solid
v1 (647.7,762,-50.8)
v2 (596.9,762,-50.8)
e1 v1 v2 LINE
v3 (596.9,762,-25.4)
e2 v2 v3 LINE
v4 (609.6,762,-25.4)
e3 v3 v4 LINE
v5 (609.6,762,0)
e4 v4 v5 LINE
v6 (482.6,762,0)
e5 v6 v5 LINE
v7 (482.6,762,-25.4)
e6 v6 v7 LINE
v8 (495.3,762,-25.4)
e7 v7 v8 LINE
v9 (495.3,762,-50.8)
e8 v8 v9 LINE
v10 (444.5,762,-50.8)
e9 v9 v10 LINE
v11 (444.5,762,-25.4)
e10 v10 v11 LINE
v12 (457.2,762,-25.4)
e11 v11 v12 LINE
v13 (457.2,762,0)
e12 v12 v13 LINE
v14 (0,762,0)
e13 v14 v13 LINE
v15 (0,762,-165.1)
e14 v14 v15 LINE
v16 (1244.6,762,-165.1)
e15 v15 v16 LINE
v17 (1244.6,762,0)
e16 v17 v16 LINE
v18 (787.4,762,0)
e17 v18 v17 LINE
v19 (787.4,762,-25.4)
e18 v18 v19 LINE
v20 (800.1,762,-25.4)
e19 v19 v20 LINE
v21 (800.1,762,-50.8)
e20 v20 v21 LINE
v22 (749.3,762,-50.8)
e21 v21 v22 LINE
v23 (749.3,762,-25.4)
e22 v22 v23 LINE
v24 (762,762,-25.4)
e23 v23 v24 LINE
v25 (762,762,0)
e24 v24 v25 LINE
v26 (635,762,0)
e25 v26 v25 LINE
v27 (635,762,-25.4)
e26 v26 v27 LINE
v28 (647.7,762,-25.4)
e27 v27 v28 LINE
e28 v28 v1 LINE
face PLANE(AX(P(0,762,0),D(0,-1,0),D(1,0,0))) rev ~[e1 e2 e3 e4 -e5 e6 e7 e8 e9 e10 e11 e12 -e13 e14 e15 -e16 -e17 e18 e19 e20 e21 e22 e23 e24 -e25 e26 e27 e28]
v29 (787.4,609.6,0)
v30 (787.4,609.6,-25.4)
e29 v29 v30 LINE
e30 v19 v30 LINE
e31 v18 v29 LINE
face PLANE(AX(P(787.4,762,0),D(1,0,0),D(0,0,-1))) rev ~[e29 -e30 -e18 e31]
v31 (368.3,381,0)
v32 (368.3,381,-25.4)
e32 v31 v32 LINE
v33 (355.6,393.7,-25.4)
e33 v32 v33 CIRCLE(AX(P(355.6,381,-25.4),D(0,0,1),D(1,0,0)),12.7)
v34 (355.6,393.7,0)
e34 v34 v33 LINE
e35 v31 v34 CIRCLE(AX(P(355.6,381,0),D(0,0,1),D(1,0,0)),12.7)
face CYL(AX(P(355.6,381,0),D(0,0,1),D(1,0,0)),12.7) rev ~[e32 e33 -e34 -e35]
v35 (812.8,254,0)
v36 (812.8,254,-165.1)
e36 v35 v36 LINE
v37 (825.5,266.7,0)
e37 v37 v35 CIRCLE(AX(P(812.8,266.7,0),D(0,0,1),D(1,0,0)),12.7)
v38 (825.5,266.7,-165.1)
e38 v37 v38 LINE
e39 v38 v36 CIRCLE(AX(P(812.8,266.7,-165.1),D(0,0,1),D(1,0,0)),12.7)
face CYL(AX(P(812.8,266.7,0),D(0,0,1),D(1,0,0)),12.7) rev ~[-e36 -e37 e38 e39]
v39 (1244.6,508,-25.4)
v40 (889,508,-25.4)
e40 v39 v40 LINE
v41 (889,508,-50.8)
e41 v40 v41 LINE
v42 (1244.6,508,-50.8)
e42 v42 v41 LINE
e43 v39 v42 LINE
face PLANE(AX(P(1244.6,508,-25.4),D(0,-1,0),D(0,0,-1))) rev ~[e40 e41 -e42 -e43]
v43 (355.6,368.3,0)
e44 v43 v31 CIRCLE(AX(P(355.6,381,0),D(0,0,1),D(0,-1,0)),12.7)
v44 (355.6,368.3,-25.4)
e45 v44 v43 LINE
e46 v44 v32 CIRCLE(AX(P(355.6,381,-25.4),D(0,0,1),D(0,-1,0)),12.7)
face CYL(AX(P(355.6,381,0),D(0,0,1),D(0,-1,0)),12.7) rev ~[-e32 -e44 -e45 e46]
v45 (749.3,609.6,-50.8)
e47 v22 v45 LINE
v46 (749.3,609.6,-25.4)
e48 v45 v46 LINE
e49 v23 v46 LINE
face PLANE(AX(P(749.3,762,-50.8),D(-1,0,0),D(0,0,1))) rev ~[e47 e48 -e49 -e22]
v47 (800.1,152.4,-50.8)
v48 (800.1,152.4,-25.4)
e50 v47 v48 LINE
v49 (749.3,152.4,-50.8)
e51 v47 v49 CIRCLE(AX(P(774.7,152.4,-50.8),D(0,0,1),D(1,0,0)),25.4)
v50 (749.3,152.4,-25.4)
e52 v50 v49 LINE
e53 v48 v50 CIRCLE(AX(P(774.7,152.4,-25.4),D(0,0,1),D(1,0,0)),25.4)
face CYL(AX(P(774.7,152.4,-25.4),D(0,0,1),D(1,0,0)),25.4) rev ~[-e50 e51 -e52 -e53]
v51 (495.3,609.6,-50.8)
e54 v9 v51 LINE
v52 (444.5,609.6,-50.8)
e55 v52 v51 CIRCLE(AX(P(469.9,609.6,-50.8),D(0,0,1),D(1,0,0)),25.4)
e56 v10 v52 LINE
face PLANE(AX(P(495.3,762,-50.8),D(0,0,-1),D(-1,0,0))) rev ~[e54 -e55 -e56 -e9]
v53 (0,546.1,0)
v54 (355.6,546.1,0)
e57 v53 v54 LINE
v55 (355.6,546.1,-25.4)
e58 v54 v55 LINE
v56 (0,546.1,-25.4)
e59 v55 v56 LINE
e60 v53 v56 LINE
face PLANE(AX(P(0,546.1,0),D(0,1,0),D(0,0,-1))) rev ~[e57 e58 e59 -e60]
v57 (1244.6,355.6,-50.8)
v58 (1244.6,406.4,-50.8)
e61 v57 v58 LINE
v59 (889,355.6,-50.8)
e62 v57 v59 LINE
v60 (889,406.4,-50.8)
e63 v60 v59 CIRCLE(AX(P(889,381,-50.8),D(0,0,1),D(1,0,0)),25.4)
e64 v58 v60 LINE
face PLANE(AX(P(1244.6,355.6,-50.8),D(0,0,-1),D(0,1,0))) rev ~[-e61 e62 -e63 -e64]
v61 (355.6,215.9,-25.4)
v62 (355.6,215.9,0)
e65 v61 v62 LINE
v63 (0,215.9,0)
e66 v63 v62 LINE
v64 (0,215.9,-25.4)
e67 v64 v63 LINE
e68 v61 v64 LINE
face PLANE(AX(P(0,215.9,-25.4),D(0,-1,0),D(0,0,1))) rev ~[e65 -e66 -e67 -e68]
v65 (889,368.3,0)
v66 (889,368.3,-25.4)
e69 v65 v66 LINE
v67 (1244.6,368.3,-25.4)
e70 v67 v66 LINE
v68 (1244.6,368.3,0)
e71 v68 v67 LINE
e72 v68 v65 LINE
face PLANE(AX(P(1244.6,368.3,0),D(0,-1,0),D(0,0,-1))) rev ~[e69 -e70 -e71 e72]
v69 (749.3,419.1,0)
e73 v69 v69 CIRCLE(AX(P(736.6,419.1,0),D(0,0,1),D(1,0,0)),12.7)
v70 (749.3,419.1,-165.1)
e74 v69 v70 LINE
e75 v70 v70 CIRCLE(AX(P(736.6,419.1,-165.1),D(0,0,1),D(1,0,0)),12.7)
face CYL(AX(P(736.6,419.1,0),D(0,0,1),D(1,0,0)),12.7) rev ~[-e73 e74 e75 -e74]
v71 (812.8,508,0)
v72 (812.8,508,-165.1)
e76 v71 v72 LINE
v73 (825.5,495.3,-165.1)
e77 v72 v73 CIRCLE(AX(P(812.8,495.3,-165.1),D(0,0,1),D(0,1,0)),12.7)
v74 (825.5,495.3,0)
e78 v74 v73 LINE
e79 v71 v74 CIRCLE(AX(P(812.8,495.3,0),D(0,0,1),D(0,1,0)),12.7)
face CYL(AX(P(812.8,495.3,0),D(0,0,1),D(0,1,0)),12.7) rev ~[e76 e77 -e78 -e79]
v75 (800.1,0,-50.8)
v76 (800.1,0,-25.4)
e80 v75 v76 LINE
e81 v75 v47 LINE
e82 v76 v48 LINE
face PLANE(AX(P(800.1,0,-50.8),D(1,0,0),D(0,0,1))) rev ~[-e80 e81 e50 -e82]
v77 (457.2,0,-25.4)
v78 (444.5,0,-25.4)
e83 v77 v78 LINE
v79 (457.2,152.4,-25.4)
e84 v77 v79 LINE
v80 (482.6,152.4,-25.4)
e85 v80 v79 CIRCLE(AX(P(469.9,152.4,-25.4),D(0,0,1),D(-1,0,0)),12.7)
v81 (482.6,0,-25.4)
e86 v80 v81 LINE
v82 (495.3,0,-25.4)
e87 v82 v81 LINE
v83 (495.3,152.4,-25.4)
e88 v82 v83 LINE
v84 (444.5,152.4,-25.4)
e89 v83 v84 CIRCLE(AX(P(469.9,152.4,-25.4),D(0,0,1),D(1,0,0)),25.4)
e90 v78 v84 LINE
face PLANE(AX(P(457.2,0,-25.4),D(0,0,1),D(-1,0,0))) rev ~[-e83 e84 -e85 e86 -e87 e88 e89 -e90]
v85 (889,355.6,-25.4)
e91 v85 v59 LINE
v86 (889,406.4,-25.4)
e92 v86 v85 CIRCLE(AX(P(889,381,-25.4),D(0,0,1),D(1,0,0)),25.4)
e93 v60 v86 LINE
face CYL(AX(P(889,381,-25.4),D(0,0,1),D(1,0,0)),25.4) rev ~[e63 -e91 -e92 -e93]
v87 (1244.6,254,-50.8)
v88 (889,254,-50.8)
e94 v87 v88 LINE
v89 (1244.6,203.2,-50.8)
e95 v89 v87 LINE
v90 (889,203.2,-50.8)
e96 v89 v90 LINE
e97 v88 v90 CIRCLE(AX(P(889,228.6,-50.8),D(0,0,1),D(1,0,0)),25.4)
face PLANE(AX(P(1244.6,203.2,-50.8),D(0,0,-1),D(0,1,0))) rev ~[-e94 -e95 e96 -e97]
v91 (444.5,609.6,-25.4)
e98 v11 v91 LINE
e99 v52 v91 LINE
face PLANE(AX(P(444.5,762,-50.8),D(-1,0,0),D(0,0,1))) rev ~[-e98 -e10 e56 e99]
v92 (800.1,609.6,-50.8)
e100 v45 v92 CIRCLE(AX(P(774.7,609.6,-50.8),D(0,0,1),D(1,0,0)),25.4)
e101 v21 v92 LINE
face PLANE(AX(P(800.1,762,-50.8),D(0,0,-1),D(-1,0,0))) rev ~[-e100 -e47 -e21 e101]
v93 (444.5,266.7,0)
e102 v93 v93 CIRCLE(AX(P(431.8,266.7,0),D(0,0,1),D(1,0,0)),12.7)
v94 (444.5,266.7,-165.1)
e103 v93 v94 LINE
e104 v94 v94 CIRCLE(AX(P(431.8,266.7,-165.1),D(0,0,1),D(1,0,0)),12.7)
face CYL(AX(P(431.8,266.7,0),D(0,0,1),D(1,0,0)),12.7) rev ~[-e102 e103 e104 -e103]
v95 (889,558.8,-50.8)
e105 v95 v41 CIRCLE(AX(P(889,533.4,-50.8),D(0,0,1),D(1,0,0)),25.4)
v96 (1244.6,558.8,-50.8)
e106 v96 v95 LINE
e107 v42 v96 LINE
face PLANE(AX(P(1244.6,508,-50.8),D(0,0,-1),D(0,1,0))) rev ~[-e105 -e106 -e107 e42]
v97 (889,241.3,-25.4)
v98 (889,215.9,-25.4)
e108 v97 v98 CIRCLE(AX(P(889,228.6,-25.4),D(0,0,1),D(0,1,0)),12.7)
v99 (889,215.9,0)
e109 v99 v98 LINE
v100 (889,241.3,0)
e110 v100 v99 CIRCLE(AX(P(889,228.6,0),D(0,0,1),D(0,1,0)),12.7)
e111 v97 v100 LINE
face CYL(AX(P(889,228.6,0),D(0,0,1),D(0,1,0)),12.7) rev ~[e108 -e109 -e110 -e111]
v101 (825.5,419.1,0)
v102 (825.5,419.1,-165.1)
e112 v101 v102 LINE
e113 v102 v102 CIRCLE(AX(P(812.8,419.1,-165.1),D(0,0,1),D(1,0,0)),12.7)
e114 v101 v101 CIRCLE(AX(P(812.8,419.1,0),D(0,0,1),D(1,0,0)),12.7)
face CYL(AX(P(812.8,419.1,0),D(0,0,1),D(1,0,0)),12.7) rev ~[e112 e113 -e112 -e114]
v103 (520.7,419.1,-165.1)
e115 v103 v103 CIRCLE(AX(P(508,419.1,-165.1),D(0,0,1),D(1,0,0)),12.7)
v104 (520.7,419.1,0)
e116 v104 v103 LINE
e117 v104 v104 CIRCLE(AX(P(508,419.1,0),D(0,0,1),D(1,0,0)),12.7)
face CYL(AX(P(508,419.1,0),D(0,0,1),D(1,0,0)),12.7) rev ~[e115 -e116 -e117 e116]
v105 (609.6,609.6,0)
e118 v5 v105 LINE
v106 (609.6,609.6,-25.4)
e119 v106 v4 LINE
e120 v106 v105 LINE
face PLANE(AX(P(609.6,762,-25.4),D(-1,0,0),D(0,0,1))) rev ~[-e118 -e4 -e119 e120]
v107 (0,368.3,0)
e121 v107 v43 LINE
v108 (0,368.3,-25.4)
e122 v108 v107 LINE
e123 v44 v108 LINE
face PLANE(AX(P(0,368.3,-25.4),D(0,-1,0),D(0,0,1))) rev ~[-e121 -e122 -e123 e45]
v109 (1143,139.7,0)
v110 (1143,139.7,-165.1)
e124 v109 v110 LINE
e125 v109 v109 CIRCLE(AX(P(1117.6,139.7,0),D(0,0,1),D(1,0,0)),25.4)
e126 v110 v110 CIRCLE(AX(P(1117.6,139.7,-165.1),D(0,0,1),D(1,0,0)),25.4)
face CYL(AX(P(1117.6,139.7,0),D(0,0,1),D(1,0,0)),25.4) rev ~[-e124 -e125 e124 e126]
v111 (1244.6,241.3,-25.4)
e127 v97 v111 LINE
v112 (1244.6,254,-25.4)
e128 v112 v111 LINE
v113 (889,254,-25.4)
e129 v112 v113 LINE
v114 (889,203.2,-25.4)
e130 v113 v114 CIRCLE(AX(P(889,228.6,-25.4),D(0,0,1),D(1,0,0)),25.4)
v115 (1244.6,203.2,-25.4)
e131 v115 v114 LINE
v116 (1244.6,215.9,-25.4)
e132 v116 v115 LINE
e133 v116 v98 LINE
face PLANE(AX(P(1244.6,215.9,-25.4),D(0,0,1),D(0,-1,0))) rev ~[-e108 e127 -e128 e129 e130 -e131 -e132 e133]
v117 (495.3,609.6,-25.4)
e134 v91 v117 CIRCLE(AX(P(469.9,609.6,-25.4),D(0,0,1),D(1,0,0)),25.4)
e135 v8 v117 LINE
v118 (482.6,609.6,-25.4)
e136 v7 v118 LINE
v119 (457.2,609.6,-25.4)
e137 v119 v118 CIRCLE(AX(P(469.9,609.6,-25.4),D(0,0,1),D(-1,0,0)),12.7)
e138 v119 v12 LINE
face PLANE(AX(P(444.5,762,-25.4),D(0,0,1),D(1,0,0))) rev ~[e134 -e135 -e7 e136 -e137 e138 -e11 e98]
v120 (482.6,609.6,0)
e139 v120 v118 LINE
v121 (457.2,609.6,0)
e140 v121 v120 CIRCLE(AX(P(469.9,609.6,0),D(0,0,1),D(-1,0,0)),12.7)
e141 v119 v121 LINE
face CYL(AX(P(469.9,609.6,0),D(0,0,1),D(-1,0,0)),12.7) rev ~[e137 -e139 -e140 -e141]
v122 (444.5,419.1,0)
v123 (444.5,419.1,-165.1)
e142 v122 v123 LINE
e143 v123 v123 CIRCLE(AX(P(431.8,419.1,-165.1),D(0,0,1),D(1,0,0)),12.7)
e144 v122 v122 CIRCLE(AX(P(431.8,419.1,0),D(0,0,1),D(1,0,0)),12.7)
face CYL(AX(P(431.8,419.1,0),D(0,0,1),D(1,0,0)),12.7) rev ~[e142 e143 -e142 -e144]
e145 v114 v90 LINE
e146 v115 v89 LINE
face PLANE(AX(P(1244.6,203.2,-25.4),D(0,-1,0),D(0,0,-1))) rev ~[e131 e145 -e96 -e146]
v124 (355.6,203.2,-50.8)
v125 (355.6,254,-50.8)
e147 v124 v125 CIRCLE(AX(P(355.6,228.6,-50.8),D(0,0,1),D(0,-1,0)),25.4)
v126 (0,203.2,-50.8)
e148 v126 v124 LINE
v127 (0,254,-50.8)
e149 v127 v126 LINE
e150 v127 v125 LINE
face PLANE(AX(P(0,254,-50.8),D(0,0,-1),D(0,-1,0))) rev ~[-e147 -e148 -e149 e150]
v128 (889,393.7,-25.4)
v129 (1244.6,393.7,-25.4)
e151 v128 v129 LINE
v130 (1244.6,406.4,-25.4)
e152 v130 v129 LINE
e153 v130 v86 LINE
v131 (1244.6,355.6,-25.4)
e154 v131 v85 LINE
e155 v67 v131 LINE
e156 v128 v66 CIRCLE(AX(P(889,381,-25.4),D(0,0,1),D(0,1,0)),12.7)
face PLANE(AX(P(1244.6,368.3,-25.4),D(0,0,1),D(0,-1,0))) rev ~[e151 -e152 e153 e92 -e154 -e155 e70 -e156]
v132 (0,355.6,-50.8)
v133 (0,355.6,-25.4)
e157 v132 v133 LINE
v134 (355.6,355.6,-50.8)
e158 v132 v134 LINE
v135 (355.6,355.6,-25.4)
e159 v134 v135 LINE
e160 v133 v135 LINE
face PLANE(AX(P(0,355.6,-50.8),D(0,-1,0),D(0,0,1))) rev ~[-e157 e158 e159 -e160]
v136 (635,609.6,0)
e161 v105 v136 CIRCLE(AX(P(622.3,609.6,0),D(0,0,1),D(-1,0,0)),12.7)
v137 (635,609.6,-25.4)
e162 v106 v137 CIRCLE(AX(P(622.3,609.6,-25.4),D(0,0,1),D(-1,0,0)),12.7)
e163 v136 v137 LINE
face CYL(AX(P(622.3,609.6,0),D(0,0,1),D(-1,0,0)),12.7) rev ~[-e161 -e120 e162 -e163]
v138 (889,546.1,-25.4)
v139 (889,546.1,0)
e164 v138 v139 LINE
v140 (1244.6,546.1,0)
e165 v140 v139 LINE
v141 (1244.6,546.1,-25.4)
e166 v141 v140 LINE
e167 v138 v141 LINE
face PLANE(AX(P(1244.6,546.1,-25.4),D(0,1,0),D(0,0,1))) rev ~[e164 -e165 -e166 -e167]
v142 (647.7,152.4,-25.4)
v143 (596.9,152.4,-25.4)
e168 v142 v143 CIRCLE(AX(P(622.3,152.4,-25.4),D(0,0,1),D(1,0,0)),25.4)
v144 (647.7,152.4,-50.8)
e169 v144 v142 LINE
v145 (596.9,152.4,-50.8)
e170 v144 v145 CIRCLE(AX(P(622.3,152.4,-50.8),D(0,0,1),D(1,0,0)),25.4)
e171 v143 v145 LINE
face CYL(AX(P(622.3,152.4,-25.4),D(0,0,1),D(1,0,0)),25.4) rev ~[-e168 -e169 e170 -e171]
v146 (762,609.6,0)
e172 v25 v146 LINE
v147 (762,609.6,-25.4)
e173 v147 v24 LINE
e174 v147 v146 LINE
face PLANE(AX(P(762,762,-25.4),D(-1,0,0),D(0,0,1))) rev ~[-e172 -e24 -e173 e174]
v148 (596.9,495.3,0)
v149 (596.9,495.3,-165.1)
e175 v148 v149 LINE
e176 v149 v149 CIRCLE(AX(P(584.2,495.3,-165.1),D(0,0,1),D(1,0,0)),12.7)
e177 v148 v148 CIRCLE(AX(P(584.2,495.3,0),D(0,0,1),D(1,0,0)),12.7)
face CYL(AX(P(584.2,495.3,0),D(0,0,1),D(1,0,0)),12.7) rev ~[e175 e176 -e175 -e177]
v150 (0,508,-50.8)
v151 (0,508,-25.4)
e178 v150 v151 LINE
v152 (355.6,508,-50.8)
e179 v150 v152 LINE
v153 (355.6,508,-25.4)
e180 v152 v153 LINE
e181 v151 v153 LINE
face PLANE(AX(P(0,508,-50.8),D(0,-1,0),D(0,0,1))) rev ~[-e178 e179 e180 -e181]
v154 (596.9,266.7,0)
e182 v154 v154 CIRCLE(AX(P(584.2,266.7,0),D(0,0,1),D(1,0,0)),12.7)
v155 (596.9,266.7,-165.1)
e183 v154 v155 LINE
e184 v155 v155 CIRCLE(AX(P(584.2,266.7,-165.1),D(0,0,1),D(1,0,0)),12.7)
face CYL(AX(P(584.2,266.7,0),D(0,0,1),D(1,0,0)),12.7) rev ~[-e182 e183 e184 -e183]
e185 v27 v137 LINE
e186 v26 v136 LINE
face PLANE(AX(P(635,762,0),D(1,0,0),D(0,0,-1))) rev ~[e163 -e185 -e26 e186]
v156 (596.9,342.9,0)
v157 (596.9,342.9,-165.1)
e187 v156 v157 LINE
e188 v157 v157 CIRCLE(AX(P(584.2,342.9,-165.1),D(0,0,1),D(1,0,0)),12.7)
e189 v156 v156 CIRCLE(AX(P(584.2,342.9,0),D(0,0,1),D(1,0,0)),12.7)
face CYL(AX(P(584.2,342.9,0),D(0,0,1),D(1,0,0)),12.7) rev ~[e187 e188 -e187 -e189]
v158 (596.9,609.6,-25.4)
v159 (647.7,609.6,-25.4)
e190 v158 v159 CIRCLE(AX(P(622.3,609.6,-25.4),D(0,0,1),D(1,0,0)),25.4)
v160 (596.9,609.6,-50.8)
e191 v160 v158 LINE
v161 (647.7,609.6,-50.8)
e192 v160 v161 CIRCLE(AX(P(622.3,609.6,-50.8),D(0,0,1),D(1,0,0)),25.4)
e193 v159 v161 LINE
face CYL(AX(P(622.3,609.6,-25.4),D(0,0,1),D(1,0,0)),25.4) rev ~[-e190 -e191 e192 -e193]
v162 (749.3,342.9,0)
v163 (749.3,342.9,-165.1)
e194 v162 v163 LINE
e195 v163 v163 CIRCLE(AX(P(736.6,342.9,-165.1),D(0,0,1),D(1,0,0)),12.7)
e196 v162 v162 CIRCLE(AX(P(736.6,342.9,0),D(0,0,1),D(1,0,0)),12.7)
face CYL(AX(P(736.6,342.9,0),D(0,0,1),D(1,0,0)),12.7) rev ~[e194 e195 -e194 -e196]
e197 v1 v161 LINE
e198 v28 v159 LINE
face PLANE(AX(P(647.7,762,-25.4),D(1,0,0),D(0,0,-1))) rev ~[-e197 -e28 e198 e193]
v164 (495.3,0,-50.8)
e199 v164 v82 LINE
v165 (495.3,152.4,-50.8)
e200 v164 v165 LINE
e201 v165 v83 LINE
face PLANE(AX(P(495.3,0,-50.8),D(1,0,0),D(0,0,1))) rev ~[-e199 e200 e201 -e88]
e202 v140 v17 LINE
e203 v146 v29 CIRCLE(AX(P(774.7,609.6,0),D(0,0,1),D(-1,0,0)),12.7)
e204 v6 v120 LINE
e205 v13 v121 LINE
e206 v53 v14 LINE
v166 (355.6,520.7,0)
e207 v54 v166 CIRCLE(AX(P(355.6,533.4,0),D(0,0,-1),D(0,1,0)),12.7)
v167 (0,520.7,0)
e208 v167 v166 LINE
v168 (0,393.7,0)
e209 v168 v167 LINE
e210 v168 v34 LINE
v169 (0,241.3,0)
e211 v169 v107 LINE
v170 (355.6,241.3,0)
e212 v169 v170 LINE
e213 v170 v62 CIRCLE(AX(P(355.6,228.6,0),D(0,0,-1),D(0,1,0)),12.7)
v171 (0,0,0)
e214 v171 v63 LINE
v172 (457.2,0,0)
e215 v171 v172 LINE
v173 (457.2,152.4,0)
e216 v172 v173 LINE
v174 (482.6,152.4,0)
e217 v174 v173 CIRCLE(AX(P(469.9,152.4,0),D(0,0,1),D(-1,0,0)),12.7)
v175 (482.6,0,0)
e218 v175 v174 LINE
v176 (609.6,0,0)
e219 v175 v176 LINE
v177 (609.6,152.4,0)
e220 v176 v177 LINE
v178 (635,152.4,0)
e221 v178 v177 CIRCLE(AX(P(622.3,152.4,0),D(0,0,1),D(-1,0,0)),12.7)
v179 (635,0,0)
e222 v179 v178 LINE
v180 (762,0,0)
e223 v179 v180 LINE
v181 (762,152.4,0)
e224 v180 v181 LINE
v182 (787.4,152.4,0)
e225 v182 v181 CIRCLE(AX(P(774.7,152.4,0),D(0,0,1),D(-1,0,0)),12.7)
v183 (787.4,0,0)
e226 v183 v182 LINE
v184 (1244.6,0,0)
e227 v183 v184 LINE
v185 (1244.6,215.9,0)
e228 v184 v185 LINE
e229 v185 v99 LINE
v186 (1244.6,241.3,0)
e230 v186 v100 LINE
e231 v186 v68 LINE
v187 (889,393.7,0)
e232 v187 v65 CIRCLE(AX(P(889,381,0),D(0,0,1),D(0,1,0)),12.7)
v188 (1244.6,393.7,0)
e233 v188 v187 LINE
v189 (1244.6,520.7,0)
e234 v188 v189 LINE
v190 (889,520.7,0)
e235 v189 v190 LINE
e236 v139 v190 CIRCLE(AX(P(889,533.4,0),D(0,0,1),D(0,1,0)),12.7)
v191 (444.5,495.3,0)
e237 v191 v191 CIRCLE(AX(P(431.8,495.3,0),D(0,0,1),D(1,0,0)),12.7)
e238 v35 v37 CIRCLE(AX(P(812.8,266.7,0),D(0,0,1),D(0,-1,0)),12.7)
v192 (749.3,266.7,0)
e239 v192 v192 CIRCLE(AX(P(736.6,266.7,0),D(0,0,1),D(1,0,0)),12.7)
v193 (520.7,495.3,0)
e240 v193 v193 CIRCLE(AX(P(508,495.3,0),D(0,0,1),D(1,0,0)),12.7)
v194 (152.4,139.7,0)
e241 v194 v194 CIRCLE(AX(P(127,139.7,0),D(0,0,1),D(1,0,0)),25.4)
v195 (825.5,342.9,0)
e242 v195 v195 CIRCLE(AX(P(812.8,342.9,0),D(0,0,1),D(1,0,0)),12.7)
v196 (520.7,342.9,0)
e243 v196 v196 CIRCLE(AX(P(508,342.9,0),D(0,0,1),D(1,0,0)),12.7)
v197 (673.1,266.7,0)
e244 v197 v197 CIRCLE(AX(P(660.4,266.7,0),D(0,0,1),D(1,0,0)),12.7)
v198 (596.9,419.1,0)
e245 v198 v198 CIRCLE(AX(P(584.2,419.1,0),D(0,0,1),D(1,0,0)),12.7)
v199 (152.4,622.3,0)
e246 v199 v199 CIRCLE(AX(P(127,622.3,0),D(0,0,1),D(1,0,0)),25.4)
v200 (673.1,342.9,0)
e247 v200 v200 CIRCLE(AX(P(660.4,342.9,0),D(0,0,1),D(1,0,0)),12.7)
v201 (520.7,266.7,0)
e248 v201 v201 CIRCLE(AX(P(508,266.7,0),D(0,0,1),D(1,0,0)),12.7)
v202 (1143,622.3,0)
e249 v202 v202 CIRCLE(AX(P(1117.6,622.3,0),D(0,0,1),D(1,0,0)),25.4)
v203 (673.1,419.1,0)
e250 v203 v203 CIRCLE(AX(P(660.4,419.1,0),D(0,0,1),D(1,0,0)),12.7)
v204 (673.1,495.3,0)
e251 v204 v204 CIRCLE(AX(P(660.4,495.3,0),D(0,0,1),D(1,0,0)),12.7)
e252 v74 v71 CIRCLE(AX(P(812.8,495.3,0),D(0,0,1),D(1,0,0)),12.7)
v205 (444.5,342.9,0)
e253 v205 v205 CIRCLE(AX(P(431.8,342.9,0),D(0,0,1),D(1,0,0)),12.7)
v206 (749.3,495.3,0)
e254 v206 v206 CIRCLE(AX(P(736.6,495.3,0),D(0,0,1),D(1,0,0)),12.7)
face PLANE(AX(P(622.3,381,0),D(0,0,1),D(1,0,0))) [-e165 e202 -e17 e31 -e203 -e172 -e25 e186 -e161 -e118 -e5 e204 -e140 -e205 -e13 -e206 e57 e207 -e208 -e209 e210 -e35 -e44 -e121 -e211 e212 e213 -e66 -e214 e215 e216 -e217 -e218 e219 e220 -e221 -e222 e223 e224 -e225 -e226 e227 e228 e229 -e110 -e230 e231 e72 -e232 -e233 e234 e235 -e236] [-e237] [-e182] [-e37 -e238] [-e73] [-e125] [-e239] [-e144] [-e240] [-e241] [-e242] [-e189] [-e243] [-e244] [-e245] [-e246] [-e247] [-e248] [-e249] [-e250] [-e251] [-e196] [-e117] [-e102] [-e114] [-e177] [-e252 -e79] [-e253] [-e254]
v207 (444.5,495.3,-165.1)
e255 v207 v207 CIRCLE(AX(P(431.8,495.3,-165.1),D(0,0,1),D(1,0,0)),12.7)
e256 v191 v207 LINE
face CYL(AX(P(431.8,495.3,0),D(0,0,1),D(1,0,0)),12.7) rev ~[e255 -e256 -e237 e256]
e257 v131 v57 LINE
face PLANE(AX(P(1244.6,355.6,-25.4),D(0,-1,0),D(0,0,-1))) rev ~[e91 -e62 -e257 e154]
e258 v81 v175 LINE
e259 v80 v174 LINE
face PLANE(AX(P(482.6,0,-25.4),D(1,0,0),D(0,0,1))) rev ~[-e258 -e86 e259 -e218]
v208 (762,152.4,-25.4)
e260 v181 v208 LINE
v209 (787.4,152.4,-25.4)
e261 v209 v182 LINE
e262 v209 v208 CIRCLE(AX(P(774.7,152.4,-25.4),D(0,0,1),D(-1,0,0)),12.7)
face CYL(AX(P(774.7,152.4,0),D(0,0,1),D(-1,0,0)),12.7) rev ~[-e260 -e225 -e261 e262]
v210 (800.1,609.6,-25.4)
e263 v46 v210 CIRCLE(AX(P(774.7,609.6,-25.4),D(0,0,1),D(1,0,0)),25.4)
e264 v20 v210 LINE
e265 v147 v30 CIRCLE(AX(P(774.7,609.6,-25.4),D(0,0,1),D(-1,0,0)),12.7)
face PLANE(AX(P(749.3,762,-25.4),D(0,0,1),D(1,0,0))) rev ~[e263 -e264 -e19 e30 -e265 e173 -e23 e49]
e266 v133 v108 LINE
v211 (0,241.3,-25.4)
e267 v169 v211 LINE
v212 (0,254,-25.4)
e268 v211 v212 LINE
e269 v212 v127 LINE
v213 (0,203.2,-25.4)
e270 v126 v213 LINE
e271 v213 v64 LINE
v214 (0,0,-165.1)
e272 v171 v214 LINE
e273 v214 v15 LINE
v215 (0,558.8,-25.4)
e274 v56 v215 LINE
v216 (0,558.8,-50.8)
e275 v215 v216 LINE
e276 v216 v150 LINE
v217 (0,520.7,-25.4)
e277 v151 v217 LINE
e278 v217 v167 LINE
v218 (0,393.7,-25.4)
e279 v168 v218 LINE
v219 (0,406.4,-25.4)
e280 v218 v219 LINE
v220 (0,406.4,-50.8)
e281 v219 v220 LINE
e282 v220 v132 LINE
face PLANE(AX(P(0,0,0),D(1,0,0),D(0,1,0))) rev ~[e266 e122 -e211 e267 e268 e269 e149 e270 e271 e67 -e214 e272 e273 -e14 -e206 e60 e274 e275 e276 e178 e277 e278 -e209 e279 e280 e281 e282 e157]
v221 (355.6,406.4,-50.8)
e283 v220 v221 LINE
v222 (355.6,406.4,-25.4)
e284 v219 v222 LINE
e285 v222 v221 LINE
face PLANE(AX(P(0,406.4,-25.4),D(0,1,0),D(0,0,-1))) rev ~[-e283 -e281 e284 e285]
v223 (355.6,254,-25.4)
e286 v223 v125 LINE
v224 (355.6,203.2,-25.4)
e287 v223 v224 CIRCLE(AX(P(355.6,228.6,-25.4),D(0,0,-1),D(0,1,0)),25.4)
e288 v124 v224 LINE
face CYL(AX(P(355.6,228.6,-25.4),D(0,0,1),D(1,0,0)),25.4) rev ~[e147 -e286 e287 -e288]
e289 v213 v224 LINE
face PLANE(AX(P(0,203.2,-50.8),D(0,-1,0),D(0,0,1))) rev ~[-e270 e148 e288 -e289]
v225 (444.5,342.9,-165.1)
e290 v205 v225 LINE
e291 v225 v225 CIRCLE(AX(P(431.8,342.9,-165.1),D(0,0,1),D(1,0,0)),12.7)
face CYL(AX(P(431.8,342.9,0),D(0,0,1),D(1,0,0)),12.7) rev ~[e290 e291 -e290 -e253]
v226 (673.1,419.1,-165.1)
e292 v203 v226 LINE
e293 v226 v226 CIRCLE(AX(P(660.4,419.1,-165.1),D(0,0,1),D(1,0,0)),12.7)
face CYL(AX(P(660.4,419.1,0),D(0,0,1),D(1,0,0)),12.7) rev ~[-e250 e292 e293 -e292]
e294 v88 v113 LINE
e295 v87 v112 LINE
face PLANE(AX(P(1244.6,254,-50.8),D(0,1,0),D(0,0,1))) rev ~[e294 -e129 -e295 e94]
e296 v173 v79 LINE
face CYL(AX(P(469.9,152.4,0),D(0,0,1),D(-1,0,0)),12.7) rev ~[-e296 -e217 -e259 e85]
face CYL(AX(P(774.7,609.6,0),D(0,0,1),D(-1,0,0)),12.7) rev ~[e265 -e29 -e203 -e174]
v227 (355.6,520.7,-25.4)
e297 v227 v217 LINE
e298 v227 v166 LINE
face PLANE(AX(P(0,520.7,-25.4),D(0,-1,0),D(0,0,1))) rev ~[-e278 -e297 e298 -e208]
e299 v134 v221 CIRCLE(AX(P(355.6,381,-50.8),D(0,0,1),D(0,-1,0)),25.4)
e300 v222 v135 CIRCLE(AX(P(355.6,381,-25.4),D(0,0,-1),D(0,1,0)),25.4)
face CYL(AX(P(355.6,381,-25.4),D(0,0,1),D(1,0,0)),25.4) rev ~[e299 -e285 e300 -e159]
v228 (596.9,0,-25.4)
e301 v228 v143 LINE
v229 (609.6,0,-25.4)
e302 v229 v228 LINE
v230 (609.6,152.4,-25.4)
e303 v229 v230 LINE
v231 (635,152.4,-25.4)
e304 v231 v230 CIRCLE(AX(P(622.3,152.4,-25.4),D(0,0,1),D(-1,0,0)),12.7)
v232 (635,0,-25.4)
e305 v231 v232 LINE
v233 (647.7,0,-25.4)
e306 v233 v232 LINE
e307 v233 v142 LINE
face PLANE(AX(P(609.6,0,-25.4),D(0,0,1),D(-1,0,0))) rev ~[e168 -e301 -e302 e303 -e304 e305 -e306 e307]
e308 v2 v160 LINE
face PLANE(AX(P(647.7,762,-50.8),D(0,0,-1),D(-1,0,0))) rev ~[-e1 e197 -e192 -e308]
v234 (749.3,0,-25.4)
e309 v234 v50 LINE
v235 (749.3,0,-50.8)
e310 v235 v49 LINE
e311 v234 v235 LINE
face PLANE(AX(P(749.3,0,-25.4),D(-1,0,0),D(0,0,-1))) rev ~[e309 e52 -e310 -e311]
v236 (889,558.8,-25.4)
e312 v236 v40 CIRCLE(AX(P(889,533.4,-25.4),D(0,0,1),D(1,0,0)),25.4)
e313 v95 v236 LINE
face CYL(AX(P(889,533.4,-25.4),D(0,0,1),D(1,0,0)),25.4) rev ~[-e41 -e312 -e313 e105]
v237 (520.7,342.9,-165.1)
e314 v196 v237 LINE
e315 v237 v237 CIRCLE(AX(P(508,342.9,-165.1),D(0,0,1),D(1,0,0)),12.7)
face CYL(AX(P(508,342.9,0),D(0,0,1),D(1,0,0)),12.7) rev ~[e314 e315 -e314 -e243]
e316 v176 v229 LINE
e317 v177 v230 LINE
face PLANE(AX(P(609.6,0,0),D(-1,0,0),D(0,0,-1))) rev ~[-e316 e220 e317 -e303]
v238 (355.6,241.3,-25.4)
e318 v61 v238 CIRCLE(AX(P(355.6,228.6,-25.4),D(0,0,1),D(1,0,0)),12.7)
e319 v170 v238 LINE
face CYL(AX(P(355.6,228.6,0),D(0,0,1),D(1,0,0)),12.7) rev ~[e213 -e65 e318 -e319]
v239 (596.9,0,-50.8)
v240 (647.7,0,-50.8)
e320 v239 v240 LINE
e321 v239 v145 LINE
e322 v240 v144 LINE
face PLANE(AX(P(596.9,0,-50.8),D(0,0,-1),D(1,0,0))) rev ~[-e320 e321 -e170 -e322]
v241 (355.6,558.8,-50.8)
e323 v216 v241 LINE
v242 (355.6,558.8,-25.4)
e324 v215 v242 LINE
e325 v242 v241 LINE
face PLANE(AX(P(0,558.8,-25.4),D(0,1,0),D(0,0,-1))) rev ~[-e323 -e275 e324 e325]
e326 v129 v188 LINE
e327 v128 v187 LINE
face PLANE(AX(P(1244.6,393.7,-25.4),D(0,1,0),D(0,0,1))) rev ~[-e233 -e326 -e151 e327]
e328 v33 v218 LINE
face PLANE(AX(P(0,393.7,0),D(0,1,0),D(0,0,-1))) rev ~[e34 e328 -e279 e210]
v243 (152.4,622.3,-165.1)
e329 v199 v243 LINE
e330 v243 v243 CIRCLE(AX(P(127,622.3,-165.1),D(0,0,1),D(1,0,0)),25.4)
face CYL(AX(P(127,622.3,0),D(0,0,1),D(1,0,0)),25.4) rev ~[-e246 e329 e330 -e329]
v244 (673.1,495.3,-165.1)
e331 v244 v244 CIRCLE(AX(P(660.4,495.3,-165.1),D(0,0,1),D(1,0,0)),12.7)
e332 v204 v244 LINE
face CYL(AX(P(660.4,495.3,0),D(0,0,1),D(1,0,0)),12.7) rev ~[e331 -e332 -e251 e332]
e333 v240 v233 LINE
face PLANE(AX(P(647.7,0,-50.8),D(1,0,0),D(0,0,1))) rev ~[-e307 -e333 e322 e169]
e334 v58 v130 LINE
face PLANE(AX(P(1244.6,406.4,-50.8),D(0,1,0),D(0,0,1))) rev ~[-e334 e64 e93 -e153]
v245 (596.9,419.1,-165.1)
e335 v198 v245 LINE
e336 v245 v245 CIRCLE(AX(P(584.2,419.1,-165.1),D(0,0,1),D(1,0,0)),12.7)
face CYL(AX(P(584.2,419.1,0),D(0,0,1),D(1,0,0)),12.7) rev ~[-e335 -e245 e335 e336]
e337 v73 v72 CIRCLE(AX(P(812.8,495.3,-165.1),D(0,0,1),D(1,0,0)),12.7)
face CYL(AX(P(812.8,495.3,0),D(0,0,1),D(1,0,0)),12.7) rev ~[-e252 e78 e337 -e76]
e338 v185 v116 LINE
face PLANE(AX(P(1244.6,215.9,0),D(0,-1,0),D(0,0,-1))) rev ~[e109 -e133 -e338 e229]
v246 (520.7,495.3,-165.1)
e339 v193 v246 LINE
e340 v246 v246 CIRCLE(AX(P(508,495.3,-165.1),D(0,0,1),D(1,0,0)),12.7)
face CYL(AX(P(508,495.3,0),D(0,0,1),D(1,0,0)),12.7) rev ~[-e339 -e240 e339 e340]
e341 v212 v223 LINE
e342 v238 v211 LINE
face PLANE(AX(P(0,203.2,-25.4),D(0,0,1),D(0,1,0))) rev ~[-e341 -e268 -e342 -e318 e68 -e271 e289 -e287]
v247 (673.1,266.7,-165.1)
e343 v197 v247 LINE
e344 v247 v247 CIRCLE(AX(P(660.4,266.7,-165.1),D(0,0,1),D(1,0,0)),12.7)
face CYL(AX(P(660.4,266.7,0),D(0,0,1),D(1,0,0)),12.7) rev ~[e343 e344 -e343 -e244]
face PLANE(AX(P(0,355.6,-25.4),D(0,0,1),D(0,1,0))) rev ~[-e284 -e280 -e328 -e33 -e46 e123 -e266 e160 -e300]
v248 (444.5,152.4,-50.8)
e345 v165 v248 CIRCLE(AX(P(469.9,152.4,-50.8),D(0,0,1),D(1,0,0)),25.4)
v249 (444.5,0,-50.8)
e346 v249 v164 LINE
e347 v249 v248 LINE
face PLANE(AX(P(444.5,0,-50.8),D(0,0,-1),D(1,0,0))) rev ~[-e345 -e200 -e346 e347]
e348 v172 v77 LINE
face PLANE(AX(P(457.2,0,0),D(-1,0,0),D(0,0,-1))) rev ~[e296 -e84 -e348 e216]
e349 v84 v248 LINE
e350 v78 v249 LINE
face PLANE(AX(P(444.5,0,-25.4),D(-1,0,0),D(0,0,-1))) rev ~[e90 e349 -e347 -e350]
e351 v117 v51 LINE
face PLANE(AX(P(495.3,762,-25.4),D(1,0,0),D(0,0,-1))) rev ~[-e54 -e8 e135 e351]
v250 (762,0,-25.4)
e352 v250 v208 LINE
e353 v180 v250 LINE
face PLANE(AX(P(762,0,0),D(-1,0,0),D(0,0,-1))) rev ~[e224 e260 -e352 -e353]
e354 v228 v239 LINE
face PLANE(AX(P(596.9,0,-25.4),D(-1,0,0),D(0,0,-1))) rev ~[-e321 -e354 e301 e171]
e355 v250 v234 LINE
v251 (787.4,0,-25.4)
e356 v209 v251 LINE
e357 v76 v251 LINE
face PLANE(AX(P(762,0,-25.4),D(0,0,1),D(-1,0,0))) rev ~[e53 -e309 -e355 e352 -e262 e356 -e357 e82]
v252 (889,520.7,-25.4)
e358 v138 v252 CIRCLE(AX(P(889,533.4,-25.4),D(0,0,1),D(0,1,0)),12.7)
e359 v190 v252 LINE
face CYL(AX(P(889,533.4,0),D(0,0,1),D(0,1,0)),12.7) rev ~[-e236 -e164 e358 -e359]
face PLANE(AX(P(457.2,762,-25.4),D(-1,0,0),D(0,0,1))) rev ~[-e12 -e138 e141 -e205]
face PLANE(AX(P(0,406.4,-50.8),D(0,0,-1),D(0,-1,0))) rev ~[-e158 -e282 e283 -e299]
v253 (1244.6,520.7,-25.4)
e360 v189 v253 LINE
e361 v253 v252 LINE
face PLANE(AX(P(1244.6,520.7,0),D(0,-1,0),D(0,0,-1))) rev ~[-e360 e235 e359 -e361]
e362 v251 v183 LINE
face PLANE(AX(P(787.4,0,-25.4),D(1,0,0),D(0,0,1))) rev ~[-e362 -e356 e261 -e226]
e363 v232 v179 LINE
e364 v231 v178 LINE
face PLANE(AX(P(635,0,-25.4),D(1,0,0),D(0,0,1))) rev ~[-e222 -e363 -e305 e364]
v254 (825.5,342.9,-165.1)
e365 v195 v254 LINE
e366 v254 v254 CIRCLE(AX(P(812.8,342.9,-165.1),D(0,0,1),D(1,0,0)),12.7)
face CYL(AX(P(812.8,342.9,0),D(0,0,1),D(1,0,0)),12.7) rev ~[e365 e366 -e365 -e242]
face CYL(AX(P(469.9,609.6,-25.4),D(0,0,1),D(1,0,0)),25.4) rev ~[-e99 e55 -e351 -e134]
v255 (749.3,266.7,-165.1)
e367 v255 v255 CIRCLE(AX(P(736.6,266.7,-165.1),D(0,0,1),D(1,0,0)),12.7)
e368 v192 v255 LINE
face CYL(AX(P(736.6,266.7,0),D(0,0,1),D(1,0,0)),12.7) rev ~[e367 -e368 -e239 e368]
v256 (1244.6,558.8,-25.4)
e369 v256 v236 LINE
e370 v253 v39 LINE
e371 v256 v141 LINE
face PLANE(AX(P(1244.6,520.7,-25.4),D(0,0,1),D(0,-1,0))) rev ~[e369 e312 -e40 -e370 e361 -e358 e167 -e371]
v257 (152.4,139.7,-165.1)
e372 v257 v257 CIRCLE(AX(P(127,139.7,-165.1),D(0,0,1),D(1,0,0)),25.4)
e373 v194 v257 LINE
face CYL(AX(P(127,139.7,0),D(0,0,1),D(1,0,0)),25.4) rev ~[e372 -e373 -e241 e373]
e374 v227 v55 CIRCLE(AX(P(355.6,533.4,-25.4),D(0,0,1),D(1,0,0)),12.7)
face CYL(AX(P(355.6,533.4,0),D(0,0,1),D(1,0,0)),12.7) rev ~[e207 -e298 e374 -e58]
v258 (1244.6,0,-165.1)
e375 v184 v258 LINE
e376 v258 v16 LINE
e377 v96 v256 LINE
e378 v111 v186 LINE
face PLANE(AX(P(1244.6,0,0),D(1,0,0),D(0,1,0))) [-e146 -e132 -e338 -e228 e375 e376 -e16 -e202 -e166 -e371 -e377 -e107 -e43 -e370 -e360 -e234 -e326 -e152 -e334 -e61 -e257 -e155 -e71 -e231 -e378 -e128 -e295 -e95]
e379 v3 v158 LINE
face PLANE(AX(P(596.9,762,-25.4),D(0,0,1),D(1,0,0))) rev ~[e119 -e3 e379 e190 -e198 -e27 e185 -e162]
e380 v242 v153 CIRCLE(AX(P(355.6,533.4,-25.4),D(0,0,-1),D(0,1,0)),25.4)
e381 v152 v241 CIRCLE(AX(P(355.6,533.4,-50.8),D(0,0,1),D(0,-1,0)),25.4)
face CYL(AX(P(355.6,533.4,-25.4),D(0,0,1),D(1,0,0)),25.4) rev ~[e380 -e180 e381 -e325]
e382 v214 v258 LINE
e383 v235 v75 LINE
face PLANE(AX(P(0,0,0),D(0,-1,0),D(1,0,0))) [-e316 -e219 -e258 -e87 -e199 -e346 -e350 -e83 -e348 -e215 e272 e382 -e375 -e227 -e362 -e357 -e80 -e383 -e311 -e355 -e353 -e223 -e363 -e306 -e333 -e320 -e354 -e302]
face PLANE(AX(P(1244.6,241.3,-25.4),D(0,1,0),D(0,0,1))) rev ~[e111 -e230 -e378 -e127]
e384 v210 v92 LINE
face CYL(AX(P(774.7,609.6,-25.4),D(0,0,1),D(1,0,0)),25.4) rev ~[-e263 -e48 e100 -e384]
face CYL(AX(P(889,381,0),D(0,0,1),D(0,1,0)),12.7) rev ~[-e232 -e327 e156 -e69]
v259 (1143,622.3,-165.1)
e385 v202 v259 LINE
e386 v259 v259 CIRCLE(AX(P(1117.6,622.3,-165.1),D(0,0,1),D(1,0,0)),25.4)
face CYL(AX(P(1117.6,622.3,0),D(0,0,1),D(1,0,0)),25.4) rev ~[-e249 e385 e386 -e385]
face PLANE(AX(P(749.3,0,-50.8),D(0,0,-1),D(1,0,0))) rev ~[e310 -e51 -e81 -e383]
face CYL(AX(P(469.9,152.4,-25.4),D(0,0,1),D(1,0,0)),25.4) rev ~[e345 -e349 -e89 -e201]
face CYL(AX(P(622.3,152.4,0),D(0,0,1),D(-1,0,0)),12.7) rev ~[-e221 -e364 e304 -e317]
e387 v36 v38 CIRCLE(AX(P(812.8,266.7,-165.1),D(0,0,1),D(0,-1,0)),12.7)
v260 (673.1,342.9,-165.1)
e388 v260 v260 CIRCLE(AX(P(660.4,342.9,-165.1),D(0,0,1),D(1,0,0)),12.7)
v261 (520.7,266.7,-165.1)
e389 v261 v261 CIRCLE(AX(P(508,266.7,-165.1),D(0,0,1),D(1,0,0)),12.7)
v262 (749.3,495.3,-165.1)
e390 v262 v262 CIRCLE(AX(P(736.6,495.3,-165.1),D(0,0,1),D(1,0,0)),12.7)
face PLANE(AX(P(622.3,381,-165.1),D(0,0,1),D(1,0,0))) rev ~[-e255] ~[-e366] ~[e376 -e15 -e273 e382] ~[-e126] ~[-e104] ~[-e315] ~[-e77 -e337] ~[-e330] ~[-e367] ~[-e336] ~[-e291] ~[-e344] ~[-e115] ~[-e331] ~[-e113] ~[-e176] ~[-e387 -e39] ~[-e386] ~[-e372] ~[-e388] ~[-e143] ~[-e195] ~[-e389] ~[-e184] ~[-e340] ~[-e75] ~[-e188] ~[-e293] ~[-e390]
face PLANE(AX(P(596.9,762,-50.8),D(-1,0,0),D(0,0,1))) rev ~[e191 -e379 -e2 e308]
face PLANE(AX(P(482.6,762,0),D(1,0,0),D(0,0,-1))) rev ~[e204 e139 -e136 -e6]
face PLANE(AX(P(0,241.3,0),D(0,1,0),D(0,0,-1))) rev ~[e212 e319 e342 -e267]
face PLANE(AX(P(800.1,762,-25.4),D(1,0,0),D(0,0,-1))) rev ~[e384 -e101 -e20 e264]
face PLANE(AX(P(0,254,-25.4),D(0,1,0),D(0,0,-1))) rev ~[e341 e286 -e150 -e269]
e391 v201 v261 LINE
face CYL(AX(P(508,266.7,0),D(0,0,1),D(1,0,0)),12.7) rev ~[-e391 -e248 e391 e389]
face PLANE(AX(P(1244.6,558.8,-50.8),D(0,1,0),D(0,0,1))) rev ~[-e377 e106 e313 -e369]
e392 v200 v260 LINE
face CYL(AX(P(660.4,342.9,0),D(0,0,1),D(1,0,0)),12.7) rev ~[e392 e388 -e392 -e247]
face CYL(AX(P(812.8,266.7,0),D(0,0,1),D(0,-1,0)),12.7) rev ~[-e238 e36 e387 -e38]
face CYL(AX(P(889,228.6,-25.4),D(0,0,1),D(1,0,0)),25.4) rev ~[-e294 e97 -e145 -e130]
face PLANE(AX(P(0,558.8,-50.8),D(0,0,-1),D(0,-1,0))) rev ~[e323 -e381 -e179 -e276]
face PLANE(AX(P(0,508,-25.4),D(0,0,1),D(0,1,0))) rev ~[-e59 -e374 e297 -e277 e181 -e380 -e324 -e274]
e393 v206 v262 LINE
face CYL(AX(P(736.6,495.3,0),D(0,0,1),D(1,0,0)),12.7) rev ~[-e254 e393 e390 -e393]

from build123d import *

# Parameters (mm, degrees)
F0_W      = 1244.6
F0_H      = 762
F1_DEPTH  = 165.1
F3_DEPTH  = 152.4
F5_DEPTH  = 355.6
F7_DEPTH  = 355.6
F9_DEPTH  = 152.4
F10_R     = 12.7
F11_DEPTH = 50.8
F12_R     = 12.7
F13_DEPTH = 165.101
F15_R     = 25.4
F16_DEPTH = 25.4
F17_R     = 25.4
F18_DEPTH = 165.101


with BuildPart() as f1:
    # F0 (on Top) → F1 (new body)
    with BuildSketch(Plane.XY):
        with Locations((622.3, 381)):
            Rectangle(F0_W, F0_H)
    extrude(amount=-F1_DEPTH)

    # F2 (on face) → F3 (cut)
    with BuildSketch(Plane.XZ):
        Polygon((457.2, -25.4), (444.5, -25.4), (444.5, -50.8), (495.3, -50.8), (495.3, -25.4), (482.6, -25.4), (482.6, 0), (457.2, 0), align=None)
        Polygon((635, 0), (609.6, 0), (609.6, -25.4), (596.9, -25.4), (596.9, -50.8), (647.7, -50.8), (647.7, -25.4), (635, -25.4), align=None)
        Polygon((787.4, 0), (762, 0), (762, -25.4), (749.3, -25.4), (749.3, -50.8), (800.1, -50.8), (800.1, -25.4), (787.4, -25.4), align=None)
    extrude(amount=-F3_DEPTH, mode=Mode.SUBTRACT)

    # F4 (on face) → F5 (cut)
    with BuildSketch(Plane.YZ.offset(1244.6)):
        Polygon((241.3, 0), (215.9, 0), (215.9, -25.4), (203.2, -25.4), (203.2, -50.8), (254, -50.8), (254, -25.4), (241.3, -25.4), align=None)
        Polygon((393.7, 0), (368.3, 0), (368.3, -25.4), (355.6, -25.4), (355.6, -50.8), (406.4, -50.8), (406.4, -25.4), (393.7, -25.4), align=None)
        Polygon((546.1, 0), (520.7, 0), (520.7, -25.4), (508, -25.4), (508, -50.8), (558.8, -50.8), (558.8, -25.4), (546.1, -25.4), align=None)
    extrude(amount=-F5_DEPTH, mode=Mode.SUBTRACT)

    # F6 (on face) → F7 (cut)
    with BuildSketch(Plane(origin=(0, 0, 0), x_dir=(0, -1, 0), z_dir=(-1, 0, 0))):
        Polygon((-520.7, 0), (-546.1, 0), (-546.1, -25.4), (-558.8, -25.4), (-558.8, -50.8), (-508, -50.8), (-508, -25.4), (-520.7, -25.4), align=None)
        Polygon((-368.3, 0), (-393.7, 0), (-393.7, -25.4), (-406.4, -25.4), (-406.4, -50.8), (-355.6, -50.8), (-355.6, -25.4), (-368.3, -25.4), align=None)
        Polygon((-215.9, 0), (-241.3, 0), (-241.3, -25.4), (-254, -25.4), (-254, -50.8), (-203.2, -50.8), (-203.2, -25.4), (-215.9, -25.4), align=None)
    extrude(amount=-F7_DEPTH, mode=Mode.SUBTRACT)

    # F8 (on face) → F9 (cut)
    with BuildSketch(Plane(origin=(0, 762, 0), x_dir=(-1, 0, 0), z_dir=(0, 1, 0))):
        Polygon((-762, 0), (-787.4, 0), (-787.4, -25.4), (-800.1, -25.4), (-800.1, -50.8), (-749.3, -50.8), (-749.3, -25.4), (-762, -25.4), align=None)
        Polygon((-609.6, 0), (-635, 0), (-635, -25.4), (-647.7, -25.4), (-647.7, -50.8), (-596.9, -50.8), (-596.9, -25.4), (-609.6, -25.4), align=None)
        Polygon((-457.2, 0), (-482.6, 0), (-482.6, -25.4), (-495.3, -25.4), (-495.3, -50.8), (-444.5, -50.8), (-444.5, -25.4), (-457.2, -25.4), align=None)
    extrude(amount=-F9_DEPTH, mode=Mode.SUBTRACT)

    # F10 (on face) → F11 (cut)
    with BuildSketch(Plane.XY):
        with BuildLine():
            ThreePointArc((482.6, 609.6), (469.9, 622.3), (457.2, 609.6))
            Line((457.2, 609.6), (482.6, 609.6))
        make_face()
        with BuildLine():
            Line((482.6, 609.6), (457.2, 609.6))
            ThreePointArc((457.2, 609.6), (469.9, 596.9), (482.6, 609.6))
        make_face()
        with BuildLine():
            ThreePointArc((635, 609.6), (622.3, 622.3), (609.6, 609.6))
            Line((609.6, 609.6), (635, 609.6))
        make_face()
        with BuildLine():
            Line((635, 609.6), (609.6, 609.6))
            ThreePointArc((609.6, 609.6), (622.3, 596.9), (635, 609.6))
        make_face()
        with BuildLine():
            ThreePointArc((787.4, 609.6), (774.7, 622.3), (762, 609.6))
            Line((762, 609.6), (787.4, 609.6))
        make_face()
        with BuildLine():
            Line((787.4, 609.6), (762, 609.6))
            ThreePointArc((762, 609.6), (774.7, 596.9), (787.4, 609.6))
        make_face()
        with BuildLine():
            ThreePointArc((889, 546.1), (876.3, 533.4), (889, 520.7))
            Line((889, 520.7), (889, 546.1))
        make_face()
        with BuildLine():
            Line((889, 546.1), (889, 520.7))
            ThreePointArc((889, 520.7), (897.9802561211, 524.4197438789), (901.7, 533.4))
            ThreePointArc((901.7, 533.4), (897.9802561211, 542.3802561211), (889, 546.1))
        make_face()
        with BuildLine():
            ThreePointArc((889, 393.7), (876.3, 381), (889, 368.3))
            Line((889, 368.3), (889, 393.7))
        make_face()
        with BuildLine():
            Line((889, 393.7), (889, 368.3))
            ThreePointArc((889, 368.3), (897.9802561211, 372.0197438789), (901.7, 381))
            ThreePointArc((901.7, 381), (897.9802561211, 389.9802561211), (889, 393.7))
        make_face()
        with BuildLine():
            ThreePointArc((889, 241.3), (876.3, 228.6), (889, 215.9))
            Line((889, 215.9), (889, 241.3))
        make_face()
        with BuildLine():
            Line((889, 241.3), (889, 215.9))
            ThreePointArc((889, 215.9), (897.9802561211, 219.6197438789), (901.7, 228.6))
            ThreePointArc((901.7, 228.6), (897.9802561211, 237.5802561211), (889, 241.3))
        make_face()
        with BuildLine():
            ThreePointArc((355.6, 393.7), (342.9, 381), (355.6, 368.3))
            Line((355.6, 368.3), (355.6, 393.7))
        make_face()
        with BuildLine():
            Line((355.6, 393.7), (355.6, 368.3))
            ThreePointArc((355.6, 368.3), (364.5802561211, 372.0197438789), (368.3, 381))
            ThreePointArc((368.3, 381), (364.5802561211, 389.9802561211), (355.6, 393.7))
        make_face()
        with BuildLine():
            ThreePointArc((482.6, 152.4), (469.9, 165.1), (457.2, 152.4))
            Line((457.2, 152.4), (482.6, 152.4))
        make_face()
        with BuildLine():
            Line((482.6, 152.4), (457.2, 152.4))
            ThreePointArc((457.2, 152.4), (469.9, 139.7), (482.6, 152.4))
        make_face()
        with BuildLine():
            ThreePointArc((635, 152.4), (622.3, 165.1), (609.6, 152.4))
            Line((609.6, 152.4), (635, 152.4))
        make_face()
        with BuildLine():
            Line((635, 152.4), (609.6, 152.4))
            ThreePointArc((609.6, 152.4), (622.3, 139.7), (635, 152.4))
        make_face()
        with BuildLine():
            ThreePointArc((787.4, 152.4), (774.7, 165.1), (762, 152.4))
            Line((762, 152.4), (787.4, 152.4))
        make_face()
        with BuildLine():
            Line((787.4, 152.4), (762, 152.4))
            ThreePointArc((762, 152.4), (774.7, 139.7), (787.4, 152.4))
        make_face()
        with Locations((355.6, 533.4)):
            Circle(F10_R)
        with Locations((355.6, 228.6)):
            Circle(F10_R)
    extrude(amount=-F11_DEPTH, mode=Mode.SUBTRACT)

    # F12 (on face) → F13 (cut, through all)
    with BuildSketch(Plane.XY):
        with BuildLine():
            ThreePointArc((419.1, 495.3), (431.8, 482.6), (444.5, 495.3))
            ThreePointArc((444.5, 495.3), (431.8, 508), (419.1, 495.3))
        make_face()
        with Locations((508, 495.3)):
            Circle(F12_R)
        with Locations((584.2, 495.3)):
            Circle(F12_R)
        with Locations((660.4, 495.3)):
            Circle(F12_R)
        with Locations((736.6, 495.3)):
            Circle(F12_R)
        with BuildLine():
            Line((812.8, 495.3), (825.5, 495.3))
            ThreePointArc((825.5, 495.3), (821.7802561211, 504.2802561211), (812.8, 508))
            Line((812.8, 508), (812.8, 495.3))
        make_face()
        with BuildLine():
            ThreePointArc((812.8, 508), (803.8197438789, 486.3197438789), (825.5, 495.3))
            Line((825.5, 495.3), (812.8, 495.3))
            Line((812.8, 495.3), (812.8, 508))
        make_face()
        with Locations((431.8, 419.1)):
            Circle(F12_R)
        with Locations((508, 419.1)):
            Circle(F12_R)
        with Locations((584.2, 419.1)):
            Circle(F12_R)
        with Locations((660.4, 419.1)):
            Circle(F12_R)
        with Locations((736.6, 419.1)):
            Circle(F12_R)
        with Locations((812.8, 419.1)):
            Circle(F12_R)
        with Locations((431.8, 342.9)):
            Circle(F12_R)
        with Locations((508, 342.9)):
            Circle(F12_R)
        with Locations((584.2, 342.9)):
            Circle(F12_R)
        with Locations((660.4, 342.9)):
            Circle(F12_R)
        with Locations((736.6, 342.9)):
            Circle(F12_R)
        with Locations((812.8, 342.9)):
            Circle(F12_R)
        with Locations((431.8, 266.7)):
            Circle(F12_R)
        with Locations((508, 266.7)):
            Circle(F12_R)
        with Locations((584.2, 266.7)):
            Circle(F12_R)
        with Locations((660.4, 266.7)):
            Circle(F12_R)
        with Locations((736.6, 266.7)):
            Circle(F12_R)
        with BuildLine():
            ThreePointArc((812.8, 254), (821.7802561211, 257.7197438789), (825.5, 266.7))
            ThreePointArc((825.5, 266.7), (803.8197438789, 275.6802561211), (812.8, 254))
        make_face()
    extrude(amount=-F13_DEPTH, mode=Mode.SUBTRACT)

    # F15 (on offset) → F16 (cut)
    with BuildSketch(Plane.XY.offset(-25.4)):
        with BuildLine():
            ThreePointArc((749.3, 152.4), (774.7, 127), (800.1, 152.4))
            ThreePointArc((800.1, 152.4), (774.7, 177.8), (749.3, 152.4))
        make_face()
        with Locations((622.3, 152.4)):
            Circle(F15_R)
        with Locations((469.9, 152.4)):
            Circle(F15_R)
        with Locations((355.6, 381)):
            Circle(F15_R)
        with Locations((889, 381)):
            Circle(F15_R)
        with Locations((889, 228.6)):
            Circle(F15_R)
        with Locations((774.7, 609.6)):
            Circle(F15_R)
        with Locations((622.3, 609.6)):
            Circle(F15_R)
        with Locations((469.9, 609.6)):
            Circle(F15_R)
        with Locations((889, 533.4)):
            Circle(F15_R)
        with Locations((355.6, 228.6)):
            Circle(F15_R)
        with Locations((355.6, 533.4)):
            Circle(F15_R)
    extrude(amount=-F16_DEPTH, mode=Mode.SUBTRACT)

    # F17 (on face) → F18 (cut, through all)
    with BuildSketch(Plane.XY):
        with Locations((127, 622.3)):
            Circle(F17_R)
        with Locations((1117.6, 622.3)):
            Circle(F17_R)
        with Locations((127, 139.7)):
            Circle(F17_R)
        with Locations((1117.6, 139.7)):
            Circle(F17_R)
    extrude(amount=-F18_DEPTH, mode=Mode.SUBTRACT)


solid = f1.part
